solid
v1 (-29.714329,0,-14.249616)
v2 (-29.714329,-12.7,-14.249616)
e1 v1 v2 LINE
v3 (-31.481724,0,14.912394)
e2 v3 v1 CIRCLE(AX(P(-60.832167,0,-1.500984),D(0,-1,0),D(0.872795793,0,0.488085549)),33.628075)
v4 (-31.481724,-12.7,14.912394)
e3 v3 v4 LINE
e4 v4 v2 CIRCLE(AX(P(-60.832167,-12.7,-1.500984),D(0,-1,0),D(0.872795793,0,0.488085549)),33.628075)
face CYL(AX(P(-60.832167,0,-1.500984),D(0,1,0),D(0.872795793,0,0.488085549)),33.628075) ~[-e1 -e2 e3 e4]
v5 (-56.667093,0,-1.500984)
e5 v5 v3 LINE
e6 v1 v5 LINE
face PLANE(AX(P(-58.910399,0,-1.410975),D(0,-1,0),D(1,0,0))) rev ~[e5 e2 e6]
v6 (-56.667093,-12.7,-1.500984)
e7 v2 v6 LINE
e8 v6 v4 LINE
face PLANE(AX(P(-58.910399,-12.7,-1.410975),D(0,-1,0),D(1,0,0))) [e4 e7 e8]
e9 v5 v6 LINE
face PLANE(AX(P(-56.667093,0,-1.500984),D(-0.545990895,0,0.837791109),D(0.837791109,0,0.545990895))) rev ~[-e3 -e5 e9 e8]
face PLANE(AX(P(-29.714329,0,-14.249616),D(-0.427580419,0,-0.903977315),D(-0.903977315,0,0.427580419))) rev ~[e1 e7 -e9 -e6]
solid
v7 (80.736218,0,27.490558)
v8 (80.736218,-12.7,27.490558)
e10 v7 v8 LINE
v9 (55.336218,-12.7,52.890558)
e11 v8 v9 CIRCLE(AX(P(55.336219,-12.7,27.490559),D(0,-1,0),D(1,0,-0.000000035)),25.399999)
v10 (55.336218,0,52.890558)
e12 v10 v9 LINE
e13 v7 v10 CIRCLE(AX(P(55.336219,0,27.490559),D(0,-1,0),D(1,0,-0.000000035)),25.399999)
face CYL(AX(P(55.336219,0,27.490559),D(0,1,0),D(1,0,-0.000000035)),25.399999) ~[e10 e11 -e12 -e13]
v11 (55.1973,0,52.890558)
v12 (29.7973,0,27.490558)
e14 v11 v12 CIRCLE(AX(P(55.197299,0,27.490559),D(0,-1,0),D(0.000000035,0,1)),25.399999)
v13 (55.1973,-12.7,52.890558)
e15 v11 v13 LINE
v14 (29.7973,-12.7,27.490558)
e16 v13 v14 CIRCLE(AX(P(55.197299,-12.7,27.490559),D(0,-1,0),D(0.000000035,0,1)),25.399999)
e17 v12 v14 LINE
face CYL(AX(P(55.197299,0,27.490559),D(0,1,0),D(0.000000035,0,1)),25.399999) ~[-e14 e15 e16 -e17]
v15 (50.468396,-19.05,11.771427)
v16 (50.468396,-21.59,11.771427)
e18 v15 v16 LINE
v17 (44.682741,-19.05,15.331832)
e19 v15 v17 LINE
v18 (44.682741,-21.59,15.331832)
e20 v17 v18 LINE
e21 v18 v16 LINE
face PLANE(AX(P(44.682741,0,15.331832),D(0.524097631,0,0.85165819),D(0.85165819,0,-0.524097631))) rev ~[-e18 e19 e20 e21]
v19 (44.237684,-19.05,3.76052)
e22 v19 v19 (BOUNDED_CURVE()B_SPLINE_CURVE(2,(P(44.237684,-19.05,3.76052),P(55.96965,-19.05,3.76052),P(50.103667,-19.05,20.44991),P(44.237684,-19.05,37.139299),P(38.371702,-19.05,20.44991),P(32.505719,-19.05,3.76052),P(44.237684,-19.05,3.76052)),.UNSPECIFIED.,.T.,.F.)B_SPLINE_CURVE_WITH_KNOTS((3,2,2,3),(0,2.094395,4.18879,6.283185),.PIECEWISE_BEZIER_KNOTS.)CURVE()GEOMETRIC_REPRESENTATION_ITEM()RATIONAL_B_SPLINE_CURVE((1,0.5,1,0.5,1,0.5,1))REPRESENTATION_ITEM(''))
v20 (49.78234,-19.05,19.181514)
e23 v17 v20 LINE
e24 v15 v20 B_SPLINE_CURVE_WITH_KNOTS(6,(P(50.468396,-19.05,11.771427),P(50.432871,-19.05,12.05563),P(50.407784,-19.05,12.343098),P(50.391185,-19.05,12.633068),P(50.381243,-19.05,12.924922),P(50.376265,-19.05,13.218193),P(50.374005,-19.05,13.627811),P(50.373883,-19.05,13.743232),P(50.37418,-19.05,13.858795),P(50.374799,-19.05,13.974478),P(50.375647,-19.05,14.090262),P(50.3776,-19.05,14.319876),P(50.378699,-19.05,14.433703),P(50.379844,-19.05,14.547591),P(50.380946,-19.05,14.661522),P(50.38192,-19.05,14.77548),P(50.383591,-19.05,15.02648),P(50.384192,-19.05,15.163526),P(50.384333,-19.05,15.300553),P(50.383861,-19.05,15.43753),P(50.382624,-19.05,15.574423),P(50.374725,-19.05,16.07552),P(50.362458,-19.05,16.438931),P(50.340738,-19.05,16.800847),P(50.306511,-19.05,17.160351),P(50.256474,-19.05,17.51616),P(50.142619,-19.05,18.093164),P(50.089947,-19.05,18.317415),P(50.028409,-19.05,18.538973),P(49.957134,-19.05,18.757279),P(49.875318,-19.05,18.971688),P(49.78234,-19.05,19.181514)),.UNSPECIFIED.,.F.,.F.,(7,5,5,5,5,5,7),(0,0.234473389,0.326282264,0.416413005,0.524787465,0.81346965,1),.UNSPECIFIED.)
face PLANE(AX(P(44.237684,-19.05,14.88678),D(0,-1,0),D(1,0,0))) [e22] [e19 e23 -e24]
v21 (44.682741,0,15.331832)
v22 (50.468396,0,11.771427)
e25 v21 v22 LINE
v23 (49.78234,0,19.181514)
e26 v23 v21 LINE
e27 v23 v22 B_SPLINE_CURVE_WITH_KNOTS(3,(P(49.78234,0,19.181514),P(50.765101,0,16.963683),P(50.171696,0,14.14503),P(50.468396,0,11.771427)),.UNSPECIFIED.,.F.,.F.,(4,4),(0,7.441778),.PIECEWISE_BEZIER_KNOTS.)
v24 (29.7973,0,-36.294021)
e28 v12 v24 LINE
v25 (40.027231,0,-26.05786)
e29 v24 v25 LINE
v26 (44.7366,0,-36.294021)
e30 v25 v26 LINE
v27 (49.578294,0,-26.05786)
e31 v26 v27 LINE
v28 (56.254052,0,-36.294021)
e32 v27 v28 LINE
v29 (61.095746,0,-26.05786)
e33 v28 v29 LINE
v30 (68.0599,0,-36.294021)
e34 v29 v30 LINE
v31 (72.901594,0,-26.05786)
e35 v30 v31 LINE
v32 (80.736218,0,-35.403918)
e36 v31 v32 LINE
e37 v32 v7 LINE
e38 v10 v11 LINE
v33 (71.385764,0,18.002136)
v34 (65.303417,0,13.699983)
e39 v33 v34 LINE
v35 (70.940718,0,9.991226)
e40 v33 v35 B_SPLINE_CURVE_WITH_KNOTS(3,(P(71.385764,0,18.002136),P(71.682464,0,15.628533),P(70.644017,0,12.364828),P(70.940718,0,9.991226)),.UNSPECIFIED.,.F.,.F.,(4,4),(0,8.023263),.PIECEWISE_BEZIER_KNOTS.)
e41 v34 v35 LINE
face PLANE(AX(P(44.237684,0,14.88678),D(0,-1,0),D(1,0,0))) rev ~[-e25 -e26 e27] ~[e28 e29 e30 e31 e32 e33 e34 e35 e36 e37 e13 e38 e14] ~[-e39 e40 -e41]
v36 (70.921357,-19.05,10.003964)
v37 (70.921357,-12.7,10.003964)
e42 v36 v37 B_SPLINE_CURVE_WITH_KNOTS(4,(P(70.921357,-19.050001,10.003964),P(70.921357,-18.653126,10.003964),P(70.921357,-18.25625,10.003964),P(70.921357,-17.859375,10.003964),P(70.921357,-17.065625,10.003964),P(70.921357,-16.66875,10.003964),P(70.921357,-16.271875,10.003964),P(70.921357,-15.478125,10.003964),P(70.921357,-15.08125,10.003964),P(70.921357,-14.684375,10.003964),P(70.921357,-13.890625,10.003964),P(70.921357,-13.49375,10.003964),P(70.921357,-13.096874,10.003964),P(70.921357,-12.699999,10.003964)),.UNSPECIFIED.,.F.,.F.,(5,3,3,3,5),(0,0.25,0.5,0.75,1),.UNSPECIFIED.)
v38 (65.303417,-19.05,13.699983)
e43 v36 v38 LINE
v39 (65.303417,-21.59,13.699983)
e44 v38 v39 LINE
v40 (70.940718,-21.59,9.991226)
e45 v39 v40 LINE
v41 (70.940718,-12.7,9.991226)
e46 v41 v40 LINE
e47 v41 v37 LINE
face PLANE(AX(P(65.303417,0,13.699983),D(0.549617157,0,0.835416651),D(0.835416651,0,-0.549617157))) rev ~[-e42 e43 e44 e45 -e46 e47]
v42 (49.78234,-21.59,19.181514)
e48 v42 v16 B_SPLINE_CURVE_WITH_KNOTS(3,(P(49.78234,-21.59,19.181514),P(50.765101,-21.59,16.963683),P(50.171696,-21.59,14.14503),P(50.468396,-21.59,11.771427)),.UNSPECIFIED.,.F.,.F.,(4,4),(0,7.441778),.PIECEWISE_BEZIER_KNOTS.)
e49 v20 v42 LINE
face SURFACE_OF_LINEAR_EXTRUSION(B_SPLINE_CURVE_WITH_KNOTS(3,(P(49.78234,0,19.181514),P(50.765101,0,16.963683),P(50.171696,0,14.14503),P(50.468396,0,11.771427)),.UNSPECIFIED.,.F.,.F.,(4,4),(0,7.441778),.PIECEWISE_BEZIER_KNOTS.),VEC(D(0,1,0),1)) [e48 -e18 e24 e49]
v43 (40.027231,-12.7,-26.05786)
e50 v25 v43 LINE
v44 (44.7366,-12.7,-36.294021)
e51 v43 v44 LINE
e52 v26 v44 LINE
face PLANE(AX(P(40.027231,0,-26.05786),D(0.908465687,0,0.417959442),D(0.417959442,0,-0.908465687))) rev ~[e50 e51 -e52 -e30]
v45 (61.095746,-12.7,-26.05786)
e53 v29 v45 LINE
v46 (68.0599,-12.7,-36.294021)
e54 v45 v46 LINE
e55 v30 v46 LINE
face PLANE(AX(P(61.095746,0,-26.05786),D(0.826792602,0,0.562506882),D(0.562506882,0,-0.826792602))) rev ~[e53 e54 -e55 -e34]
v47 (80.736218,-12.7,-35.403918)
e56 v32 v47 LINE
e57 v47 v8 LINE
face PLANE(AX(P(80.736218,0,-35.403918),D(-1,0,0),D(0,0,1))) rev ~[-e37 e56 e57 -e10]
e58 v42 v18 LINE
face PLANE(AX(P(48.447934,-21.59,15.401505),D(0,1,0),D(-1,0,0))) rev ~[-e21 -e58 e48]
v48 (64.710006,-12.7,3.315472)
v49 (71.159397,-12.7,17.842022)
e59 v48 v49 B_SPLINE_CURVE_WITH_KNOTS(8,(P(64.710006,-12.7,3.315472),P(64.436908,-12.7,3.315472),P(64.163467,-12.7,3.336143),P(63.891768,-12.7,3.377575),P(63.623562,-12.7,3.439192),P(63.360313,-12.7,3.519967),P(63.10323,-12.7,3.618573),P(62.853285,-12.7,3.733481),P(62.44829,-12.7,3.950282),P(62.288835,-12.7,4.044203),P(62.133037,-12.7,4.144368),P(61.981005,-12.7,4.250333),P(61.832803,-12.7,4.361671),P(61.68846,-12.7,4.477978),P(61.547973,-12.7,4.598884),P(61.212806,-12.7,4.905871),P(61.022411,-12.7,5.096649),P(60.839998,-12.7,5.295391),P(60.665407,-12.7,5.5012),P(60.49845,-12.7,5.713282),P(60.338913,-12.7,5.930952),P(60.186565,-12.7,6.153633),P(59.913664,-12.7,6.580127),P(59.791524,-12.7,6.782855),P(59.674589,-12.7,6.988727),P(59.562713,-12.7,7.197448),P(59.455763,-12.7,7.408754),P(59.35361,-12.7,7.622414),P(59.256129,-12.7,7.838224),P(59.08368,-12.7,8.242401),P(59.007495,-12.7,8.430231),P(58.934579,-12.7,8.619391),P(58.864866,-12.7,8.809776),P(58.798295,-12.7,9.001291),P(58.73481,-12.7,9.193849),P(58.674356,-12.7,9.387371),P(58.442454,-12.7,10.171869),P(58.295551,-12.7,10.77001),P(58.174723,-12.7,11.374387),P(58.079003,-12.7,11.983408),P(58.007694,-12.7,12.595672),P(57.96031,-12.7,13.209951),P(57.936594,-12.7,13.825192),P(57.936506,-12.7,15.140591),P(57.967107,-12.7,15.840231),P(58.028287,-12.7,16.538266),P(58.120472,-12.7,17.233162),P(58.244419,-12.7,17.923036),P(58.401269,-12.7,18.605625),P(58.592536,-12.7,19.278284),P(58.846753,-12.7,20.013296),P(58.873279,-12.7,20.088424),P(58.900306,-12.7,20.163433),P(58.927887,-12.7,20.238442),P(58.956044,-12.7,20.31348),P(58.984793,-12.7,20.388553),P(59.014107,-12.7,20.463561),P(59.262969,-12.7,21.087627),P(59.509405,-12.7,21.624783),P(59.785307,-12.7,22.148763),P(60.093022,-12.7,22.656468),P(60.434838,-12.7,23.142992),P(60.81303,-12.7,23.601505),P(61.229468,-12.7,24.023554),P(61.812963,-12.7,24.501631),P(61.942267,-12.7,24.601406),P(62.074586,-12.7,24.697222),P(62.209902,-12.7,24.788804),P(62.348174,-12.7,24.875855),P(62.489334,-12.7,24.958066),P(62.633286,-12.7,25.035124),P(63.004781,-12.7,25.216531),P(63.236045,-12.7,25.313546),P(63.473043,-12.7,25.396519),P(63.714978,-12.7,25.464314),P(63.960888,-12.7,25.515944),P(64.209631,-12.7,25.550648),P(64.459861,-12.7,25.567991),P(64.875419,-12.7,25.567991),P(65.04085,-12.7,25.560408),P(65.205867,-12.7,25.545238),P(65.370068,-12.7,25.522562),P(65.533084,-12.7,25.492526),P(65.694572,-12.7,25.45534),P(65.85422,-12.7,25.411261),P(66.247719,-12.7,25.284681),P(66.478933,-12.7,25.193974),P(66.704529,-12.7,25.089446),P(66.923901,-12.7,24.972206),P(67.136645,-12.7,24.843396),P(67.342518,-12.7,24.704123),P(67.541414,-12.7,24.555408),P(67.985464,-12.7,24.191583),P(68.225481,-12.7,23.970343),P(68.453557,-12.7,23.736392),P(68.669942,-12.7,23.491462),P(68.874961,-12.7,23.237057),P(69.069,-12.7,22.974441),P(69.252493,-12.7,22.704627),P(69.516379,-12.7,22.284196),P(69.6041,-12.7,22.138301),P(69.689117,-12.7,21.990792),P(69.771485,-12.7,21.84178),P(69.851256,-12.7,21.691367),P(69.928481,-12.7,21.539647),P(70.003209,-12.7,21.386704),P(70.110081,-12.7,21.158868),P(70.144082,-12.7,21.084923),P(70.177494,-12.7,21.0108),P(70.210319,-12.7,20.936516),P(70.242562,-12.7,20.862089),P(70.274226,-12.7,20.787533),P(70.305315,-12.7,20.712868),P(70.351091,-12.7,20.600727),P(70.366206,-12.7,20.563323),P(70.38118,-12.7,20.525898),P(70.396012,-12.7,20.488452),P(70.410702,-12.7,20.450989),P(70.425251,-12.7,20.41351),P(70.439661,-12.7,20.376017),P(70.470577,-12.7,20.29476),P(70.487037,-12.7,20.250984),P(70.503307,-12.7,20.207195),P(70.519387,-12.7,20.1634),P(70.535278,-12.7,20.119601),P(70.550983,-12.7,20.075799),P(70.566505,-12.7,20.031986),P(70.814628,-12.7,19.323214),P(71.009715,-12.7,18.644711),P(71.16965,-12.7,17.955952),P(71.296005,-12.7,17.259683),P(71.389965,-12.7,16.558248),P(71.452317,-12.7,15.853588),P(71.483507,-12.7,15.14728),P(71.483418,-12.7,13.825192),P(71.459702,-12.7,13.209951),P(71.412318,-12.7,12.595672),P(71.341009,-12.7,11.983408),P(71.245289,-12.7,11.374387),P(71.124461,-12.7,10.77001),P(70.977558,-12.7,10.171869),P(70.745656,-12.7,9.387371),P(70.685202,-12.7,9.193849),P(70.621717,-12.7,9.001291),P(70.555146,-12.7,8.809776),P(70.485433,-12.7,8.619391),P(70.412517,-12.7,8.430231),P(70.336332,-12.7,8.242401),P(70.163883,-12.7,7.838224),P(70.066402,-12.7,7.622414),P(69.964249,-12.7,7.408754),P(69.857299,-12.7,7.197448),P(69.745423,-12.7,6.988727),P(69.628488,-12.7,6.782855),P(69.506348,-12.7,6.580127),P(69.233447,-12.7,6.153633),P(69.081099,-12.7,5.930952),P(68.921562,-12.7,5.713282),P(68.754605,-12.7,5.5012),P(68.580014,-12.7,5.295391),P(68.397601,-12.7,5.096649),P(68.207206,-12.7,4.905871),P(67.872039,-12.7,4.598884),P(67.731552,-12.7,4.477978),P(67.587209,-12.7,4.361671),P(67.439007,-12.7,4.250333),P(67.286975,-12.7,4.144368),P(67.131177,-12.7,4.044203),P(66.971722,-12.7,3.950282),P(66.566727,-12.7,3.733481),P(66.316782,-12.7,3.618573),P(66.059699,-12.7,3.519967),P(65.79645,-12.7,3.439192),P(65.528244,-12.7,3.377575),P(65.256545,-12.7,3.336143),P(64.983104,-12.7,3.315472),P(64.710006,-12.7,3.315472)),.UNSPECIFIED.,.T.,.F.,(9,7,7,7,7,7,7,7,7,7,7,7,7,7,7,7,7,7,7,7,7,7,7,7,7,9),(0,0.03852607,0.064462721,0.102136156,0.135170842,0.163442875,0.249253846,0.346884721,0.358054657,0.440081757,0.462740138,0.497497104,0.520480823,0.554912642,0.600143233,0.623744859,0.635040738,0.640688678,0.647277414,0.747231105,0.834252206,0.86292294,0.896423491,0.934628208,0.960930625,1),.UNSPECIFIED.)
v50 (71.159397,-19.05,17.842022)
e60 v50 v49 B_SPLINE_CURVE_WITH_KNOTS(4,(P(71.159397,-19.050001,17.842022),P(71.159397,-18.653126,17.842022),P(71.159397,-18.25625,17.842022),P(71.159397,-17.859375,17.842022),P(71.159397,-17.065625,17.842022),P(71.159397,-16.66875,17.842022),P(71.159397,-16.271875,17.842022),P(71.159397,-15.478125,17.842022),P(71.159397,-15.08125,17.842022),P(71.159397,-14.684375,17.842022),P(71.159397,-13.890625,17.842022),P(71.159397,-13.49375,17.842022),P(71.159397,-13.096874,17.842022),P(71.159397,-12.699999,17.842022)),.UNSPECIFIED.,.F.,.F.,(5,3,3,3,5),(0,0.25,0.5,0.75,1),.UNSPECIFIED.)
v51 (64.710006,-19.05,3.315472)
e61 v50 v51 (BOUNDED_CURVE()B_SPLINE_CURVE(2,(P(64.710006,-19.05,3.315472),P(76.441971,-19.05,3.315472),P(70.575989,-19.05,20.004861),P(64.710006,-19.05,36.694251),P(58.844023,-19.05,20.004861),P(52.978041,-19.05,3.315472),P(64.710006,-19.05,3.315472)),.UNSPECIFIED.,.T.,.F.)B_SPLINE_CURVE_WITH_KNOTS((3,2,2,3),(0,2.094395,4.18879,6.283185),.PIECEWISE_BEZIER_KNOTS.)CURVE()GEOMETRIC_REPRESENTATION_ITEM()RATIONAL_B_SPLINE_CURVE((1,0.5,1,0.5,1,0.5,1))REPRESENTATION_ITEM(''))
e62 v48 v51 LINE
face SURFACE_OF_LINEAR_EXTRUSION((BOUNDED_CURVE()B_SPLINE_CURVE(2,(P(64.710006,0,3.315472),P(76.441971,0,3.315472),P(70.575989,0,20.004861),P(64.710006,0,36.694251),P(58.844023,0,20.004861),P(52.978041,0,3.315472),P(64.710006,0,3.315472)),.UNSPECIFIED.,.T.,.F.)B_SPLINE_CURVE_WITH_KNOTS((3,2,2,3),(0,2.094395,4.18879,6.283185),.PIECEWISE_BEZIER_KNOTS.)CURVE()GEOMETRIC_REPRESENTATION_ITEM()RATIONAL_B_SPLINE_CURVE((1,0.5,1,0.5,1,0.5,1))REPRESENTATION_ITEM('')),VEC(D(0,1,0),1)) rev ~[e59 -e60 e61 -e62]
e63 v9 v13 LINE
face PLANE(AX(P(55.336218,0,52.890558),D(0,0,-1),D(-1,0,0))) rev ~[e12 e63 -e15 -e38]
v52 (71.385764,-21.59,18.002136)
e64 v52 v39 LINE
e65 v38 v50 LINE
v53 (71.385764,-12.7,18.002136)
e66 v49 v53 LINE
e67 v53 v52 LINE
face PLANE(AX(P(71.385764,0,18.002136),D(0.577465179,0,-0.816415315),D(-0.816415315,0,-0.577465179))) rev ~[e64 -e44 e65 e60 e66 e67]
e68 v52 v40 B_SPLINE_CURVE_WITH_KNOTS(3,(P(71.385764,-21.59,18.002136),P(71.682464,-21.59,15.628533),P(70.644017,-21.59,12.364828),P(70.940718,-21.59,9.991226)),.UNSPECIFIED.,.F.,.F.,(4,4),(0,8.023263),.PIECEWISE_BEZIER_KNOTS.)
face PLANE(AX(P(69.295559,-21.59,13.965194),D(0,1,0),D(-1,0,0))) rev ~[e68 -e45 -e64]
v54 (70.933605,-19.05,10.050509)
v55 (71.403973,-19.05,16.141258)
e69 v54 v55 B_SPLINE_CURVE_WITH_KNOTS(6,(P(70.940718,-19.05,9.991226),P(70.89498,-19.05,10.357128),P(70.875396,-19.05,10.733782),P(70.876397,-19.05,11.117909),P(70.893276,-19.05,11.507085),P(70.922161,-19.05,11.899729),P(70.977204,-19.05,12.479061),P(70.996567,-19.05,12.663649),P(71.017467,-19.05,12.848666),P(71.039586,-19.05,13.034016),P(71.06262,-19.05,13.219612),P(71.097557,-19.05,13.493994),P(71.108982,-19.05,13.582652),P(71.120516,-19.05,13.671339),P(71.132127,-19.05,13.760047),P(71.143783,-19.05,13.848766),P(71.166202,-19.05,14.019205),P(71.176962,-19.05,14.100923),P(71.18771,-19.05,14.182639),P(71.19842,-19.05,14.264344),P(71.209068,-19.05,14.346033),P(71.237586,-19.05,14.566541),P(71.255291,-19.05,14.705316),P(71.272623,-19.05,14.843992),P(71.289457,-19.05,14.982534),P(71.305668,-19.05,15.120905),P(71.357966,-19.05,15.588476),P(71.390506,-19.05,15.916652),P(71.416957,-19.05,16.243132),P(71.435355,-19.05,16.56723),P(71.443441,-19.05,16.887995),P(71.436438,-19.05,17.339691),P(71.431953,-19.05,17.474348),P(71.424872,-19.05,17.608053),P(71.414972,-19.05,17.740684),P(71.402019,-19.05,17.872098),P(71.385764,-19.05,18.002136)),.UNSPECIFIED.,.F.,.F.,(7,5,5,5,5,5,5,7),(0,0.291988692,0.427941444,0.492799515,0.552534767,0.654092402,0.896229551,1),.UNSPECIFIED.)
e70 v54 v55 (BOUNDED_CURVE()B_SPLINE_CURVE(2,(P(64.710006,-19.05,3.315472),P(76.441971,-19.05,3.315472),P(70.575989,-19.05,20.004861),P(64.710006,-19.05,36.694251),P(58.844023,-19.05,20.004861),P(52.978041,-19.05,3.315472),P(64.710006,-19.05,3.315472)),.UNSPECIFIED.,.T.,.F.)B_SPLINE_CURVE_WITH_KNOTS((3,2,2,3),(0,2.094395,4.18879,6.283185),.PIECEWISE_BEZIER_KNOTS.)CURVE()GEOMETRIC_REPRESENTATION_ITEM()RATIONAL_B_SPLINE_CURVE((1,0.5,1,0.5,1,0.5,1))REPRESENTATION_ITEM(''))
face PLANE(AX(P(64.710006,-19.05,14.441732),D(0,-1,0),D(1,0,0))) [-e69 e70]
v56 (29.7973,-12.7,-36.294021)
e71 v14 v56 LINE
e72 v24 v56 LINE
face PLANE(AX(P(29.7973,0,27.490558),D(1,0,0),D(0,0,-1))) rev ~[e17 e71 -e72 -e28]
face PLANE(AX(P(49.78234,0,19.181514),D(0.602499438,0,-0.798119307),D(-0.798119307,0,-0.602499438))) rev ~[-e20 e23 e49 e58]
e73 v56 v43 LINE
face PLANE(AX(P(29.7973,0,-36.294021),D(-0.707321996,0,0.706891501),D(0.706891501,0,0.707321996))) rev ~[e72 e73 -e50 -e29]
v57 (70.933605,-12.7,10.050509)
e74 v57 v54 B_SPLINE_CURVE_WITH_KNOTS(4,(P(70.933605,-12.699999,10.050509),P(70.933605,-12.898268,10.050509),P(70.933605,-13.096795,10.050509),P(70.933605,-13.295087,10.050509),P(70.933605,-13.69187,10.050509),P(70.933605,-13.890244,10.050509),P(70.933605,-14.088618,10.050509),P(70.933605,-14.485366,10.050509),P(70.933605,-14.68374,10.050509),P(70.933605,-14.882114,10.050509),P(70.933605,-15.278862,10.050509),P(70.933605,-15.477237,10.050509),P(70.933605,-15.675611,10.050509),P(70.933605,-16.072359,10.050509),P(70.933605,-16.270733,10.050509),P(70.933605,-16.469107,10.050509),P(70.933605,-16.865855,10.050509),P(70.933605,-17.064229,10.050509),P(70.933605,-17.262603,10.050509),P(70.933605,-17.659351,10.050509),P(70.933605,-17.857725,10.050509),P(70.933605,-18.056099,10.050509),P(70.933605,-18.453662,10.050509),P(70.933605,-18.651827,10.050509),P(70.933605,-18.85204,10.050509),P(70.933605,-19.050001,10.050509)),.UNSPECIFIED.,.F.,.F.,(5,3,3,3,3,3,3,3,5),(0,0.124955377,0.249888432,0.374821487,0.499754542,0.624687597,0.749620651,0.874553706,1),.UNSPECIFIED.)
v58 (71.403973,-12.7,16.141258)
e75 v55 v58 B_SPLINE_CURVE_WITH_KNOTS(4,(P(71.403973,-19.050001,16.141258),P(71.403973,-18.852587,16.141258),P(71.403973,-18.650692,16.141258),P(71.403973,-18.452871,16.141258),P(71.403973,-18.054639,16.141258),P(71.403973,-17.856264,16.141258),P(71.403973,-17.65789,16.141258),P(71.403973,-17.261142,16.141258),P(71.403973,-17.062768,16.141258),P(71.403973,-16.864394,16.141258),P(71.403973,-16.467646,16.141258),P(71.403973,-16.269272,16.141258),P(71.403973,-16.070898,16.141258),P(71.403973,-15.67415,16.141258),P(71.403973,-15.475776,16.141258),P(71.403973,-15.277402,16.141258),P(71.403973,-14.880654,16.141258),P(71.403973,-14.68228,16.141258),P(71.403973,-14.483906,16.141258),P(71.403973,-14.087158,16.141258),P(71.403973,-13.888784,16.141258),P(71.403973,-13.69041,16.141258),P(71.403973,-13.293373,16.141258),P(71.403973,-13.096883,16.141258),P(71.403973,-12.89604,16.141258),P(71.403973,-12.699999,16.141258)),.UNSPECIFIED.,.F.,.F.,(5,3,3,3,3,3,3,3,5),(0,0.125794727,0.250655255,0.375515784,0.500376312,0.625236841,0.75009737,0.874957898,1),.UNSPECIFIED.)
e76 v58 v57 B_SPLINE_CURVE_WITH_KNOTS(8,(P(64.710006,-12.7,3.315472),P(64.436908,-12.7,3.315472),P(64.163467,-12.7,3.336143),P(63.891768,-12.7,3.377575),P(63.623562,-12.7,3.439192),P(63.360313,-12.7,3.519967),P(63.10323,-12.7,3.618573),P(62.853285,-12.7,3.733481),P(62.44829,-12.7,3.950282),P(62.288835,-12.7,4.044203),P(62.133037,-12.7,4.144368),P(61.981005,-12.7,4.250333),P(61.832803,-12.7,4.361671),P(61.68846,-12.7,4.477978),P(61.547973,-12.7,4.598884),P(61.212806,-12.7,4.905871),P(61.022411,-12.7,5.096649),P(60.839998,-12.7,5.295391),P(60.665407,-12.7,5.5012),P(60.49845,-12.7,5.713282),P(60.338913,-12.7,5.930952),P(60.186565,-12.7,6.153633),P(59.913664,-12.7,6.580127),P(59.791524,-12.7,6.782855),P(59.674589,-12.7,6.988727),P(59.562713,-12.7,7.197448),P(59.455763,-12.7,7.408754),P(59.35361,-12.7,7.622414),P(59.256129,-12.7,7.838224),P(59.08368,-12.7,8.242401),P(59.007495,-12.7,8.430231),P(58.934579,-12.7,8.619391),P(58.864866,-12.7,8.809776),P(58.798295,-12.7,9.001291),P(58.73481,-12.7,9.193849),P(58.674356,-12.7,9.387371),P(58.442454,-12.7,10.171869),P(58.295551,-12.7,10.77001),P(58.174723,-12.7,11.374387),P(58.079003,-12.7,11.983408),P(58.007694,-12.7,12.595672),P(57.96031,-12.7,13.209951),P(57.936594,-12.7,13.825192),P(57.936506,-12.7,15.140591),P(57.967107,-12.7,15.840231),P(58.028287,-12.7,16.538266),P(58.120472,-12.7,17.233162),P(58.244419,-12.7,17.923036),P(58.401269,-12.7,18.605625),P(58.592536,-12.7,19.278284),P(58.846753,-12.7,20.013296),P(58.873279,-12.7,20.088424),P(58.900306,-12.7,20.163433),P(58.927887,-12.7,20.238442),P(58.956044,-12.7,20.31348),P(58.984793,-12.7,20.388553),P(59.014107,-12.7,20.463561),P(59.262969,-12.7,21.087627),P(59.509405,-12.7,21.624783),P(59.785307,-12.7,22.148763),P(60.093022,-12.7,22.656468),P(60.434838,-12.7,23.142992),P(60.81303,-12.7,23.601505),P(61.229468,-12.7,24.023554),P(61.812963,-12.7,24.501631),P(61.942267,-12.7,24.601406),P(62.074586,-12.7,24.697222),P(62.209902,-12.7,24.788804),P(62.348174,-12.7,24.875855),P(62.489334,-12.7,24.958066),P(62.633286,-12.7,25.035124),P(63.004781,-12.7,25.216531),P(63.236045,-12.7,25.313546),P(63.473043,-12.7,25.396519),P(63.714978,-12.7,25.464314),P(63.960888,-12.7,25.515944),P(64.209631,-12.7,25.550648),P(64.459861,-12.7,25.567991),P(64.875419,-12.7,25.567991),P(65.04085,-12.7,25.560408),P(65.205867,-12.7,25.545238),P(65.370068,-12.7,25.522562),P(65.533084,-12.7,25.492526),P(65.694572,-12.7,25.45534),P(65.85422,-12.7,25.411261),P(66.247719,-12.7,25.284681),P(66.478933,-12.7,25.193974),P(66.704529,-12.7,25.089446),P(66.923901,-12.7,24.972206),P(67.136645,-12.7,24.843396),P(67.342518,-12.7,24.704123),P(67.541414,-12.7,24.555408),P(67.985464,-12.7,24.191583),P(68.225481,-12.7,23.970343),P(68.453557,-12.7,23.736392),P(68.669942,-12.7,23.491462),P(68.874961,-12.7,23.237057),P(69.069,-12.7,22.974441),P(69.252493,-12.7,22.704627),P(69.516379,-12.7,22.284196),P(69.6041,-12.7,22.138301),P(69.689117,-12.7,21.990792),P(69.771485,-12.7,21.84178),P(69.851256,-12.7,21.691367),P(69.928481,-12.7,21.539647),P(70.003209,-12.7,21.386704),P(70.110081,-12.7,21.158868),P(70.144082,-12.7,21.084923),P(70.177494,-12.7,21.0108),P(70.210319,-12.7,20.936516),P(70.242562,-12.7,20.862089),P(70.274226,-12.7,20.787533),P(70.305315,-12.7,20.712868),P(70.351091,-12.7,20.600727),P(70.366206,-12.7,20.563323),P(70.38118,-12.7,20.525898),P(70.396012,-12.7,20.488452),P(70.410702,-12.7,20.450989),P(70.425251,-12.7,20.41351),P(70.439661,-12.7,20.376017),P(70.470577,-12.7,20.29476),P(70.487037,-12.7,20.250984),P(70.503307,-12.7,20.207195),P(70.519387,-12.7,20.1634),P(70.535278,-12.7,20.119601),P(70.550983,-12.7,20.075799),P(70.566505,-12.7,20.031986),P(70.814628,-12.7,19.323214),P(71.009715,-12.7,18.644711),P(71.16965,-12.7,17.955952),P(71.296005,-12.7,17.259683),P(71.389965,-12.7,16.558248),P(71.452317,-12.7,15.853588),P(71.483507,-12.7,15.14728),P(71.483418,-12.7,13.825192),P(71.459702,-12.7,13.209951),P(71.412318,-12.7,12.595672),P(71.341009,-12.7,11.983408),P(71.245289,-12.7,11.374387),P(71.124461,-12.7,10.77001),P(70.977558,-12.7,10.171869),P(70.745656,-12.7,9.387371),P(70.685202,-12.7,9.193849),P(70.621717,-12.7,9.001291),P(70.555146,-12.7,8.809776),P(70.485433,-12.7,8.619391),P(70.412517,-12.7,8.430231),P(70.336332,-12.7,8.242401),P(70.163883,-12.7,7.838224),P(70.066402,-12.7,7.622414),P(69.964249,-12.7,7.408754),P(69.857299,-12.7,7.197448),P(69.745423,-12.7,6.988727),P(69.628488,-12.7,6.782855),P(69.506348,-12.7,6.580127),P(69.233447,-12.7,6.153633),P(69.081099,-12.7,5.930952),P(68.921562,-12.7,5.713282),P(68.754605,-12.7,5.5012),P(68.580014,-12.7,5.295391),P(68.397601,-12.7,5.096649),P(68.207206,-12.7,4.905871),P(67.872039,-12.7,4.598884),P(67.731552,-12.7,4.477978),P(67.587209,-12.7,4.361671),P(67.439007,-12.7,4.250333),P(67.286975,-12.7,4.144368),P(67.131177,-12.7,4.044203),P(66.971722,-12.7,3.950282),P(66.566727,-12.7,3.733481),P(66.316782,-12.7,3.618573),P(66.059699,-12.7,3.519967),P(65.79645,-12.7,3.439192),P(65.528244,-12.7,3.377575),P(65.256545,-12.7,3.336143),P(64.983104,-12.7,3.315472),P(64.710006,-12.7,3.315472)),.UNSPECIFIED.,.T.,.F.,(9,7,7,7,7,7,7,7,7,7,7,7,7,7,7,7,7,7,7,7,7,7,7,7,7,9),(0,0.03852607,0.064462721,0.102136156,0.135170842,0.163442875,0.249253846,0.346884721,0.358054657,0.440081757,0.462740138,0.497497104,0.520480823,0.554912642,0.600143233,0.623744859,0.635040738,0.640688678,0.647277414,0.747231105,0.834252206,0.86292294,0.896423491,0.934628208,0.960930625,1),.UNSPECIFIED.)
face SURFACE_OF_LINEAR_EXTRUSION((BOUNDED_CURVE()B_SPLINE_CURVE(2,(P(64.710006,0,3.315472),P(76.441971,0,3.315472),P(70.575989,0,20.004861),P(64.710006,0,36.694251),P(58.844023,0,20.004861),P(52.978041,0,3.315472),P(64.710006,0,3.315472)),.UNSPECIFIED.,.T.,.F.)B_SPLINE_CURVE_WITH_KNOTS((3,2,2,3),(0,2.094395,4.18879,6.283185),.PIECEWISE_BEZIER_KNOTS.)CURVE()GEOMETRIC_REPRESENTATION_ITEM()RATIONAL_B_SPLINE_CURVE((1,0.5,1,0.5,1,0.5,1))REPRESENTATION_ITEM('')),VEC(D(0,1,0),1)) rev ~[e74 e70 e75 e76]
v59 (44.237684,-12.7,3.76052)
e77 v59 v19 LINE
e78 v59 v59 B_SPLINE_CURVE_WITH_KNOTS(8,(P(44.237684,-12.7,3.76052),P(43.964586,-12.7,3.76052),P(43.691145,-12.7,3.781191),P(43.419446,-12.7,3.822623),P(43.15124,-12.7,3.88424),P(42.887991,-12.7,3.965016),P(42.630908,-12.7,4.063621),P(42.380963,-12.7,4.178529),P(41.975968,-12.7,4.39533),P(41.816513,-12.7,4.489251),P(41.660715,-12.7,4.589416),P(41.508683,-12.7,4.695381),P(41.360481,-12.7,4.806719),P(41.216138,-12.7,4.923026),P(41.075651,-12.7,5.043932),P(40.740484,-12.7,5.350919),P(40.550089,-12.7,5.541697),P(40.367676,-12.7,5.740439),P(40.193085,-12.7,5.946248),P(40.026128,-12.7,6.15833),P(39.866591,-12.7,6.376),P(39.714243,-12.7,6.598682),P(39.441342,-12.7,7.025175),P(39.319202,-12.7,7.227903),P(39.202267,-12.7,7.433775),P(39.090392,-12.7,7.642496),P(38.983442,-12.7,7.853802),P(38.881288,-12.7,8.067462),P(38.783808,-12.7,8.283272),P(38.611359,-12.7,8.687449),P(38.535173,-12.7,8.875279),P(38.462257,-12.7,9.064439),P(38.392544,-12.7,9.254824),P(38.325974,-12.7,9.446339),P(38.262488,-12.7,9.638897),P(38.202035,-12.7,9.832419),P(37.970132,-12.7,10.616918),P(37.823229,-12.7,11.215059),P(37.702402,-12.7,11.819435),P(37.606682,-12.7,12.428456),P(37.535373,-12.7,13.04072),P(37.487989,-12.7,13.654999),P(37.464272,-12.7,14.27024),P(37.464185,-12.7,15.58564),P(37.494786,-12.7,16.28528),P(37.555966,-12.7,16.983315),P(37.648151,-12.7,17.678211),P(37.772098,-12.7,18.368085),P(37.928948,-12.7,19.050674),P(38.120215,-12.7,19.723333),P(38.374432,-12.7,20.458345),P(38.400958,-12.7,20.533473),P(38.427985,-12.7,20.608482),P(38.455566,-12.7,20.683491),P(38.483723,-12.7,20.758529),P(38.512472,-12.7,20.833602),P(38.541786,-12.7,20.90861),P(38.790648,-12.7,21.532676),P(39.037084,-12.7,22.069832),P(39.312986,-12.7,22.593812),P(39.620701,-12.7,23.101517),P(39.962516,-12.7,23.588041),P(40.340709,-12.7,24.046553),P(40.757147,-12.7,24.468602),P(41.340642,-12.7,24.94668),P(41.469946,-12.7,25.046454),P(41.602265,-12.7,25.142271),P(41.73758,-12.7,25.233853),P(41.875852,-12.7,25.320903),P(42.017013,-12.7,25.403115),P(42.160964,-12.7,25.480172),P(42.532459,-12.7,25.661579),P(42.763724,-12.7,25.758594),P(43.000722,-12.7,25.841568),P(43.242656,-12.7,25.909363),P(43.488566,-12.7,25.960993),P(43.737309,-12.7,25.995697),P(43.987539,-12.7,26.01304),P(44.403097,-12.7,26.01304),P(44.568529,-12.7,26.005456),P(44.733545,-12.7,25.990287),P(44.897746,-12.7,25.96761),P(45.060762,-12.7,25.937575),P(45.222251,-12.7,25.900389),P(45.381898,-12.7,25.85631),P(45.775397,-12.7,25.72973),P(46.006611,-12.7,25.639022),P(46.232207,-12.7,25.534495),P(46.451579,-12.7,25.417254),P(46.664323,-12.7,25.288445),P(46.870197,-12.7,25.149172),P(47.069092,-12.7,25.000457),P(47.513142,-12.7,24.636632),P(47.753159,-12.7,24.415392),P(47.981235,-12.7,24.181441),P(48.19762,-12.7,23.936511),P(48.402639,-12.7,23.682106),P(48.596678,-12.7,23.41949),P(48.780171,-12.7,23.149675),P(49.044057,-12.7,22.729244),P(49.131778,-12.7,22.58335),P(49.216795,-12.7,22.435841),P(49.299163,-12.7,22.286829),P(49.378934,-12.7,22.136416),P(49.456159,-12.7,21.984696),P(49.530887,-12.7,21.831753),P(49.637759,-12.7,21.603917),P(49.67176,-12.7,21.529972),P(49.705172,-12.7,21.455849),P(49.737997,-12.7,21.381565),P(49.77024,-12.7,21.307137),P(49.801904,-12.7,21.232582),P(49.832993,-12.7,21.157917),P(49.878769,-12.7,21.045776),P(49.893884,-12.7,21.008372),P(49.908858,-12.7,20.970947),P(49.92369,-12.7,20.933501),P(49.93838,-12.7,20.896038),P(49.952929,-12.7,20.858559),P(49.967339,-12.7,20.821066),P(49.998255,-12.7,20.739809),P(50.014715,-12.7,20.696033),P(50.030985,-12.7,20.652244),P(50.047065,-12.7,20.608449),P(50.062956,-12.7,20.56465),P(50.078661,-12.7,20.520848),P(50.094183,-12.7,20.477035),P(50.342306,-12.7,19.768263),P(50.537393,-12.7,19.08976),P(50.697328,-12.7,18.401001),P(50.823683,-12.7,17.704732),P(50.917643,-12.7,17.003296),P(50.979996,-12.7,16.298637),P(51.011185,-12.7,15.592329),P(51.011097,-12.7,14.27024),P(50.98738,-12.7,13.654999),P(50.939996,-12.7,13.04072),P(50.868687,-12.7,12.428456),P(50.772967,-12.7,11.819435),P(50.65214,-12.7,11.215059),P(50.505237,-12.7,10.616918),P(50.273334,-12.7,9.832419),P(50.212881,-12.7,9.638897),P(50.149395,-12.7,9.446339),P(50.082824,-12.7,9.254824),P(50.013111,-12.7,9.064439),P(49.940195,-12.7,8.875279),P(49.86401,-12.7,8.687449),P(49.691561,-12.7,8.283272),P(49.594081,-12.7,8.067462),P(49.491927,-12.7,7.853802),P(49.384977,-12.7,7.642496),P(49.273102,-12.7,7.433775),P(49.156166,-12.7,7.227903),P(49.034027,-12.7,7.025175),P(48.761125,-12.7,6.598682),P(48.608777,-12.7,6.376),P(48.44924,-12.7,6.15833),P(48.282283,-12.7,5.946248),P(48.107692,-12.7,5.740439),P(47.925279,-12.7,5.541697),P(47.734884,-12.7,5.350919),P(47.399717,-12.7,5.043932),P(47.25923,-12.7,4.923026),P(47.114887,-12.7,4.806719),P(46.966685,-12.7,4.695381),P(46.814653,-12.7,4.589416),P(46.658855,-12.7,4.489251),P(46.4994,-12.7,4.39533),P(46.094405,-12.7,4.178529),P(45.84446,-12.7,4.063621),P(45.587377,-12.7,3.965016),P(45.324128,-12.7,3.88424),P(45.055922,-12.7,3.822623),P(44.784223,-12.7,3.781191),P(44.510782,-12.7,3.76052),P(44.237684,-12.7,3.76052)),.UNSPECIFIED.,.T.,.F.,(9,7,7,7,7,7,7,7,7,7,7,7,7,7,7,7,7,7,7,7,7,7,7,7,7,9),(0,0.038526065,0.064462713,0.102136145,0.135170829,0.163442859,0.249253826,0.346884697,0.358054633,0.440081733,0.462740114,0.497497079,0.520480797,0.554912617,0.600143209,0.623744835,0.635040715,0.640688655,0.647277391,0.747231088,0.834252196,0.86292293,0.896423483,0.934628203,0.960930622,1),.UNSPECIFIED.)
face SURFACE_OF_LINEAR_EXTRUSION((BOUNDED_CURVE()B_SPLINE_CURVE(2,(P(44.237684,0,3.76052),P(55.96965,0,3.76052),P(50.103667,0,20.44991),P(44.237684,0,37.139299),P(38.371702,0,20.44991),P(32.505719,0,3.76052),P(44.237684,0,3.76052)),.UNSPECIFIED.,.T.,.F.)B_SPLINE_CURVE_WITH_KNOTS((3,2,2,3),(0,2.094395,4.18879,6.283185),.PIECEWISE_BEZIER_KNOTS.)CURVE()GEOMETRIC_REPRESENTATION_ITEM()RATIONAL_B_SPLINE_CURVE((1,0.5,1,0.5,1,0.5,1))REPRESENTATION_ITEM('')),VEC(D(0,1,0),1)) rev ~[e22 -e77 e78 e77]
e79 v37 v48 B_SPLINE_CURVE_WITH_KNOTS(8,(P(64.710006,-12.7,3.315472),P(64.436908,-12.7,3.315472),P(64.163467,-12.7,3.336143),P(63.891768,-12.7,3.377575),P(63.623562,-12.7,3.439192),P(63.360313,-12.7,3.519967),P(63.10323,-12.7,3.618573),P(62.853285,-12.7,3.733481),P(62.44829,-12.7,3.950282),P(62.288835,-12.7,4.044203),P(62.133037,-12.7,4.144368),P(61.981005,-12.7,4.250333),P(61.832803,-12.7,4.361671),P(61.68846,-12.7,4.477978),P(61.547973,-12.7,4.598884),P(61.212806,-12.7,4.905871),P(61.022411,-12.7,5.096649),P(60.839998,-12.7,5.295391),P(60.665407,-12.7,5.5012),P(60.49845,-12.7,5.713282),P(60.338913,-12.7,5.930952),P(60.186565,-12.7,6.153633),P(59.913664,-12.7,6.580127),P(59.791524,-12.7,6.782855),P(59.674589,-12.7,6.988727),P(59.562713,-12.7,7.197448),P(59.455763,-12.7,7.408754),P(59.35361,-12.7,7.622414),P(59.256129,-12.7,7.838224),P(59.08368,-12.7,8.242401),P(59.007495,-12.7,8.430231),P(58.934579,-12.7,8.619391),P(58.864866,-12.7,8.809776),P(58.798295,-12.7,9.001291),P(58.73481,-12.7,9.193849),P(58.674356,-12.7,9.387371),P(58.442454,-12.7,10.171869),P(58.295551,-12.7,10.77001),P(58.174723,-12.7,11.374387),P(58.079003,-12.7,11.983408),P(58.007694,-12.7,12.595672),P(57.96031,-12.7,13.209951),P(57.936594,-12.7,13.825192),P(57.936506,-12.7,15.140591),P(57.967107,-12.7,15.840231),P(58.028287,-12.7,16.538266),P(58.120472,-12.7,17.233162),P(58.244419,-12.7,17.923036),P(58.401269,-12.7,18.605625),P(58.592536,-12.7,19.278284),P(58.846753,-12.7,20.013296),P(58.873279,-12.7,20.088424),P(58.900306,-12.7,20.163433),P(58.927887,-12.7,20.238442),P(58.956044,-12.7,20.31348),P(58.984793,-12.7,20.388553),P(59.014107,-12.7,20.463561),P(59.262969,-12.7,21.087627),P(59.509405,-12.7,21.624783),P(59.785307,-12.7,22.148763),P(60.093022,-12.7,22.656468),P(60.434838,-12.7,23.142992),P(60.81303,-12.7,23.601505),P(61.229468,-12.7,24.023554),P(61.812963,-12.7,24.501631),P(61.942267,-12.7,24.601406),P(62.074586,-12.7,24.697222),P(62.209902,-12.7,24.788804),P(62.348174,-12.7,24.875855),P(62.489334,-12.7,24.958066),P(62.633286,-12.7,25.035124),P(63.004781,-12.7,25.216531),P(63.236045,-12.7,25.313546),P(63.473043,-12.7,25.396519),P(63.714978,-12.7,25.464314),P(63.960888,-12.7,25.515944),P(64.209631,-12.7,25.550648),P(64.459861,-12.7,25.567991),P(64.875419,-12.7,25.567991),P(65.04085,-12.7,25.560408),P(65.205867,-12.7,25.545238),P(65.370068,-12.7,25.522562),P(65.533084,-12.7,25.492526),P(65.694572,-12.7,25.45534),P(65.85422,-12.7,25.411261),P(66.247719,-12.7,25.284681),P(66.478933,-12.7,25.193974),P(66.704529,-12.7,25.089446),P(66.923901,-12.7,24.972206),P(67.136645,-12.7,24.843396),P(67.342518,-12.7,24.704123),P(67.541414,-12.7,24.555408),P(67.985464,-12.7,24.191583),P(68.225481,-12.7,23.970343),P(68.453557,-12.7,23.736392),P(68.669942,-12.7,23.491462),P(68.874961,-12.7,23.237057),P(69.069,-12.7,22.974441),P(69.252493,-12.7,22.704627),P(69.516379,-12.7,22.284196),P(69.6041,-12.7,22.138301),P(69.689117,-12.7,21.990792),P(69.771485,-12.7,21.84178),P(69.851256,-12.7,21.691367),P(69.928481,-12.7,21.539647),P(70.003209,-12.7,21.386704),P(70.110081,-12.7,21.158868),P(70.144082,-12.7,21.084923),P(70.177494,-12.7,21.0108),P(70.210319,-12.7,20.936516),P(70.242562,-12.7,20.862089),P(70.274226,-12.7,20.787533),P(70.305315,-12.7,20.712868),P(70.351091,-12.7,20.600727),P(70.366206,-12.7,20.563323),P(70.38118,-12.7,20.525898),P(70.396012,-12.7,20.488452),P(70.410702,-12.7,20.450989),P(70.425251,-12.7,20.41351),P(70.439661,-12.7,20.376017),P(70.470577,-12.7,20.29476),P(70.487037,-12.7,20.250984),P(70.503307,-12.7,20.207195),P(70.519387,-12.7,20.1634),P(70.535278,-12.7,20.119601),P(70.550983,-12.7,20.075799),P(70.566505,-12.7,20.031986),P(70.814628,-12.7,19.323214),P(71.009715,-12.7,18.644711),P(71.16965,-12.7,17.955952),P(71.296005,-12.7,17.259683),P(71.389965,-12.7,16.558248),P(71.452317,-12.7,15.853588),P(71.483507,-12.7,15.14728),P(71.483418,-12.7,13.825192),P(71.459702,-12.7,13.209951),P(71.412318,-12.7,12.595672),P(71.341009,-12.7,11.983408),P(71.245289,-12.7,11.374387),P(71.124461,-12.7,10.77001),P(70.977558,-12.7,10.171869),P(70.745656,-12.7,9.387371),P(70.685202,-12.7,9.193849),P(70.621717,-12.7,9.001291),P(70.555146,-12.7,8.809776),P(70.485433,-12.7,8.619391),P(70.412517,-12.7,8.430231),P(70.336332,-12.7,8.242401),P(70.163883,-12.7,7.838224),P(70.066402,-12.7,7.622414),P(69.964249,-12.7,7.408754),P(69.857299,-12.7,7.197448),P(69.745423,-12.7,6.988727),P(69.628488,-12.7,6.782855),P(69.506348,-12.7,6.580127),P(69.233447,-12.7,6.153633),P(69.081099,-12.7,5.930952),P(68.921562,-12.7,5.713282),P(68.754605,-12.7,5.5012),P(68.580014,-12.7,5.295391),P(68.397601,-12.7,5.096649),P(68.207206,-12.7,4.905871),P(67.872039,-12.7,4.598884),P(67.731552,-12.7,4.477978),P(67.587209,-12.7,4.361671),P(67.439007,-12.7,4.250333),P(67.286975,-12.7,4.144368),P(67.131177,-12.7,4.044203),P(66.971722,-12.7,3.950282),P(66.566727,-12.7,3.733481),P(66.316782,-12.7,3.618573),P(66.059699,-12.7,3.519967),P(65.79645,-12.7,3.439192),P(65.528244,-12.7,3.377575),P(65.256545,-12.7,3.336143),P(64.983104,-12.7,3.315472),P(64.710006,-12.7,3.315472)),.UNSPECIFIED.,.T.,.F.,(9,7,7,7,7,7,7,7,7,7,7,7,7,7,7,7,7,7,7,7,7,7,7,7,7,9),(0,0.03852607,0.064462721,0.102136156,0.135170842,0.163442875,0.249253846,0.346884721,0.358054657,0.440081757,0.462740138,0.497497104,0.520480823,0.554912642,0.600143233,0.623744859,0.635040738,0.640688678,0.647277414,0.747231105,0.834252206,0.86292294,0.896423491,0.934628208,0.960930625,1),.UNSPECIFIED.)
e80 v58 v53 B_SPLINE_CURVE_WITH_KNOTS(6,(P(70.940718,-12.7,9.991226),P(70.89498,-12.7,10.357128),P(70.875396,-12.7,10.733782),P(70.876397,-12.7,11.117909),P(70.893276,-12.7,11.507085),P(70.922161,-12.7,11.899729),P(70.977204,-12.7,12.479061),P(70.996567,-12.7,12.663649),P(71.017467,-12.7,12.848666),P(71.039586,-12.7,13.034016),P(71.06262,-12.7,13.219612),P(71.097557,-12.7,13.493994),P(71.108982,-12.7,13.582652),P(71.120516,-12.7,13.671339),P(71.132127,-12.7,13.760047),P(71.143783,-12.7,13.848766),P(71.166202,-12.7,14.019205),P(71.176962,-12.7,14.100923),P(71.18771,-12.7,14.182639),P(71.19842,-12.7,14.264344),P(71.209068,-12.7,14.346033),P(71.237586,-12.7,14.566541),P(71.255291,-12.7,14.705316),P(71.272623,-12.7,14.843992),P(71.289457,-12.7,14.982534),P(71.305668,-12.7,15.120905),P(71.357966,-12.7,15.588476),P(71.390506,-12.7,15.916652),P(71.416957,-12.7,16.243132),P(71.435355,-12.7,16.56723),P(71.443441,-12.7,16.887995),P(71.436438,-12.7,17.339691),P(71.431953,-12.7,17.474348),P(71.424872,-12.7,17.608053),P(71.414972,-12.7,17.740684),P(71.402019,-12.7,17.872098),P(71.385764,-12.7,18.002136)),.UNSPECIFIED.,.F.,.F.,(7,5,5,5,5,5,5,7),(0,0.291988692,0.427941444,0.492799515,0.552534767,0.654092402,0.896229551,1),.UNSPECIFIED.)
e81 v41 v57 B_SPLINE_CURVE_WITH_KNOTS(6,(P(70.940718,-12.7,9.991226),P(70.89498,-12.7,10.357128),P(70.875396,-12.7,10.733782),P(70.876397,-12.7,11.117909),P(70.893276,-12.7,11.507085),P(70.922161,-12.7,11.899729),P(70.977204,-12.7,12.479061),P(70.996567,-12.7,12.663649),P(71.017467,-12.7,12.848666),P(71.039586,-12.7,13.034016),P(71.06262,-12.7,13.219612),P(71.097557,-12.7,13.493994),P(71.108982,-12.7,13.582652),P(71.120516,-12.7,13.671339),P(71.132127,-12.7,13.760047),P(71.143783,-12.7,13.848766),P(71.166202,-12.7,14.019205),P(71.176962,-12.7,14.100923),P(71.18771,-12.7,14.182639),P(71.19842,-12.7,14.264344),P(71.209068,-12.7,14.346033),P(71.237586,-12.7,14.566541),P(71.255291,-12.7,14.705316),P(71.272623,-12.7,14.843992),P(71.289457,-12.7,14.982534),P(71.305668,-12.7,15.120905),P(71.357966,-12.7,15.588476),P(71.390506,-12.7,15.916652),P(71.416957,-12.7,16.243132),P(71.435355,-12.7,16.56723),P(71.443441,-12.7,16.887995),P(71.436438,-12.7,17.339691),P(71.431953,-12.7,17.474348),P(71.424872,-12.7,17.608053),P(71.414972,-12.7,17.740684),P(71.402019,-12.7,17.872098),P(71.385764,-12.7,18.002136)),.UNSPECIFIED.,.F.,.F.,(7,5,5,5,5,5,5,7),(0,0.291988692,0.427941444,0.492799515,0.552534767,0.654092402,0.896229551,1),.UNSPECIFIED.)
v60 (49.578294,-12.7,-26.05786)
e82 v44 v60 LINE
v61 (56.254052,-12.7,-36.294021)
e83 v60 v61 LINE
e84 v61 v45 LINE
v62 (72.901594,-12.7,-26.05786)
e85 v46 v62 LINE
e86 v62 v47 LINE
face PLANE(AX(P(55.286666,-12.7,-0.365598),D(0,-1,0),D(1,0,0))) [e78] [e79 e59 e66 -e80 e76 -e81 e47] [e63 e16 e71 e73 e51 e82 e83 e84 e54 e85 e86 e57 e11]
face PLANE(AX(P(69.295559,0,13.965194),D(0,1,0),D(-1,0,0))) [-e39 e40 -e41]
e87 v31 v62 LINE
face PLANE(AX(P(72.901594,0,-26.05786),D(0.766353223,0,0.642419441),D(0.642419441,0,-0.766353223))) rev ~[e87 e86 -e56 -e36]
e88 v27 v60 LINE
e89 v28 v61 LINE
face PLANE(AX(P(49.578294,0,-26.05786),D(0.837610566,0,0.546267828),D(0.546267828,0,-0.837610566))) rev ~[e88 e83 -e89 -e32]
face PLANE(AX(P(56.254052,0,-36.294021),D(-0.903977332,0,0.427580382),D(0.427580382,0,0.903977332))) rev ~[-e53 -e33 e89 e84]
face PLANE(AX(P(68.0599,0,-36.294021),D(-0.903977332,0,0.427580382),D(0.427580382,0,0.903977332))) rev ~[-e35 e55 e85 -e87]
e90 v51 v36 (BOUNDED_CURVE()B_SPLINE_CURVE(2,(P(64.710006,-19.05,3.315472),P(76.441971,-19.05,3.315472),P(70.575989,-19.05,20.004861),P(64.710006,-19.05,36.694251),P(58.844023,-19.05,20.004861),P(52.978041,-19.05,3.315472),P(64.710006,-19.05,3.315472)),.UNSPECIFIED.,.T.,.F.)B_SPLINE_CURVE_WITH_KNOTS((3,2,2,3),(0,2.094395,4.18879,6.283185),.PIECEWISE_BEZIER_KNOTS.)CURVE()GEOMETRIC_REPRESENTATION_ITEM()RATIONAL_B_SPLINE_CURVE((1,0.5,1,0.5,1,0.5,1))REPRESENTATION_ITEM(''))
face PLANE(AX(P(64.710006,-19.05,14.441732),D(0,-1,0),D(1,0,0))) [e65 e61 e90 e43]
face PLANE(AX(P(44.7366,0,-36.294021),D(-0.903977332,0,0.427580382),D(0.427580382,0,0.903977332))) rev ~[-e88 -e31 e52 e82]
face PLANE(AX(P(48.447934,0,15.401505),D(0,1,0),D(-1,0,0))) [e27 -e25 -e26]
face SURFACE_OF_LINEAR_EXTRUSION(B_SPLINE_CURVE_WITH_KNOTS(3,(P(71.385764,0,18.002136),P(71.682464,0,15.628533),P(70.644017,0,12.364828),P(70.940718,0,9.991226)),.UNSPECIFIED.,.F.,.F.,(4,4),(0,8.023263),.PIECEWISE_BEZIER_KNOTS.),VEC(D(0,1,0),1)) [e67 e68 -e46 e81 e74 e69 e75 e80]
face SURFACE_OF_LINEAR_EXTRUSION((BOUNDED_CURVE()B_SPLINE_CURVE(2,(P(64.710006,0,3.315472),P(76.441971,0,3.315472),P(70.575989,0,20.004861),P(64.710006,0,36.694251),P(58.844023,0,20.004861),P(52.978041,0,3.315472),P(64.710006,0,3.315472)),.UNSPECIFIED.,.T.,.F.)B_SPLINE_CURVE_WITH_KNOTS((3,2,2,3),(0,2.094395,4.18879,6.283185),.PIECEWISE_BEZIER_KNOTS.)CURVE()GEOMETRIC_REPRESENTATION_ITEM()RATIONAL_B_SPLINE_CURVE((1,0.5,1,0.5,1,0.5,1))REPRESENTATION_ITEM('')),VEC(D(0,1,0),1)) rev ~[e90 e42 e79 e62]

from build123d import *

# Parameters (mm, degrees)
F1_DEPTH = 12.7
F3_DEPTH = 19.05
F5_DEPTH = 21.59


with BuildPart() as f1:
    # F0 (on Front) → F1 (new body)
    with BuildSketch(Plane.XZ):
        with BuildLine():
            Line((-56.667093, -1.500984), (-31.481724, 14.912394))
            ThreePointArc((-31.481724, 14.912394), (-94.398652, -3.535317), (-29.714329, -14.249616))
            Line((-29.714329, -14.249616), (-56.667093, -1.500984))
        make_face()
        with BuildLine():
            Line((55.336218, 52.890558), (55.1973, 52.890558))
            ThreePointArc((55.1973, 52.890558), (37.236788, 45.451071), (29.7973, 27.490558))
            Line((29.7973, 27.490558), (29.7973, -35.403918))
            Line((29.7973, -35.403918), (29.7973, -36.294021))
            Line((29.7973, -36.294021), (40.027231, -26.05786))
            Line((40.027231, -26.05786), (44.7366, -36.294021))
            Line((44.7366, -36.294021), (49.578294, -26.05786))
            Line((49.578294, -26.05786), (56.254052, -36.294021))
            Line((56.254052, -36.294021), (61.095746, -26.05786))
            Line((61.095746, -26.05786), (68.0599, -36.294021))
            Line((68.0599, -36.294021), (72.901594, -26.05786))
            Line((72.901594, -26.05786), (80.736218, -35.403918))
            Line((80.736218, -35.403918), (80.736218, 27.490558))
            ThreePointArc((80.736218, 27.490558), (73.29673, 45.451071), (55.336218, 52.890558))
        make_face()
    extrude(amount=F1_DEPTH)

    # F2 (on Front) → F3 (join)
    with BuildSketch(Plane.XZ):
        with BuildLine():
            add(Edge.make_bspline(
                [(44.237684, 3.76052), (55.96965, 3.76052), (50.103667, 20.44991), (44.237684, 37.139299), (38.371702, 20.44991), (32.505719, 3.76052), (44.237684, 3.76052)],
                knots=[0, 0, 0, 2.094395, 2.094395, 4.18879, 4.18879, 6.283185, 6.283185, 6.283185], degree=2, weights=[1, 0.5, 1, 0.5, 1, 0.5, 1]))
        make_face()
        with BuildLine():
            add(Edge.make_bspline(
                [(64.710006, 3.315472), (76.441971, 3.315472), (70.575989, 20.004861), (64.710006, 36.694251), (58.844023, 20.004861), (52.978041, 3.315472), (64.710006, 3.315472)],
                knots=[0, 0, 0, 2.094395, 2.094395, 4.18879, 4.18879, 6.283185, 6.283185, 6.283185], degree=2, weights=[1, 0.5, 1, 0.5, 1, 0.5, 1]))
        make_face()
    extrude(amount=F3_DEPTH)

    # F4 (on Front) → F5 (join)
    with BuildSketch(Plane.XZ):
        with BuildLine():
            add(Edge.make_bspline(
                [(49.78234, 19.181514), (50.765101, 16.963683), (50.171696, 14.14503), (50.468396, 11.771427)],
                knots=[0, 0, 0, 0, 7.441778, 7.441778, 7.441778, 7.441778], degree=3))
            Line((49.78234, 19.181514), (44.682741, 15.331832))
            Line((44.682741, 15.331832), (50.468396, 11.771427))
        make_face()
        with BuildLine():
            add(Edge.make_bspline(
                [(71.385764, 18.002136), (71.682464, 15.628533), (70.644017, 12.364828), (70.940718, 9.991226)],
                knots=[0, 0, 0, 0, 8.023263, 8.023263, 8.023263, 8.023263], degree=3))
            Line((71.385764, 18.002136), (65.303417, 13.699983))
            Line((65.303417, 13.699983), (70.940718, 9.991226))
        make_face()
    extrude(amount=F5_DEPTH)


solid = f1.part
